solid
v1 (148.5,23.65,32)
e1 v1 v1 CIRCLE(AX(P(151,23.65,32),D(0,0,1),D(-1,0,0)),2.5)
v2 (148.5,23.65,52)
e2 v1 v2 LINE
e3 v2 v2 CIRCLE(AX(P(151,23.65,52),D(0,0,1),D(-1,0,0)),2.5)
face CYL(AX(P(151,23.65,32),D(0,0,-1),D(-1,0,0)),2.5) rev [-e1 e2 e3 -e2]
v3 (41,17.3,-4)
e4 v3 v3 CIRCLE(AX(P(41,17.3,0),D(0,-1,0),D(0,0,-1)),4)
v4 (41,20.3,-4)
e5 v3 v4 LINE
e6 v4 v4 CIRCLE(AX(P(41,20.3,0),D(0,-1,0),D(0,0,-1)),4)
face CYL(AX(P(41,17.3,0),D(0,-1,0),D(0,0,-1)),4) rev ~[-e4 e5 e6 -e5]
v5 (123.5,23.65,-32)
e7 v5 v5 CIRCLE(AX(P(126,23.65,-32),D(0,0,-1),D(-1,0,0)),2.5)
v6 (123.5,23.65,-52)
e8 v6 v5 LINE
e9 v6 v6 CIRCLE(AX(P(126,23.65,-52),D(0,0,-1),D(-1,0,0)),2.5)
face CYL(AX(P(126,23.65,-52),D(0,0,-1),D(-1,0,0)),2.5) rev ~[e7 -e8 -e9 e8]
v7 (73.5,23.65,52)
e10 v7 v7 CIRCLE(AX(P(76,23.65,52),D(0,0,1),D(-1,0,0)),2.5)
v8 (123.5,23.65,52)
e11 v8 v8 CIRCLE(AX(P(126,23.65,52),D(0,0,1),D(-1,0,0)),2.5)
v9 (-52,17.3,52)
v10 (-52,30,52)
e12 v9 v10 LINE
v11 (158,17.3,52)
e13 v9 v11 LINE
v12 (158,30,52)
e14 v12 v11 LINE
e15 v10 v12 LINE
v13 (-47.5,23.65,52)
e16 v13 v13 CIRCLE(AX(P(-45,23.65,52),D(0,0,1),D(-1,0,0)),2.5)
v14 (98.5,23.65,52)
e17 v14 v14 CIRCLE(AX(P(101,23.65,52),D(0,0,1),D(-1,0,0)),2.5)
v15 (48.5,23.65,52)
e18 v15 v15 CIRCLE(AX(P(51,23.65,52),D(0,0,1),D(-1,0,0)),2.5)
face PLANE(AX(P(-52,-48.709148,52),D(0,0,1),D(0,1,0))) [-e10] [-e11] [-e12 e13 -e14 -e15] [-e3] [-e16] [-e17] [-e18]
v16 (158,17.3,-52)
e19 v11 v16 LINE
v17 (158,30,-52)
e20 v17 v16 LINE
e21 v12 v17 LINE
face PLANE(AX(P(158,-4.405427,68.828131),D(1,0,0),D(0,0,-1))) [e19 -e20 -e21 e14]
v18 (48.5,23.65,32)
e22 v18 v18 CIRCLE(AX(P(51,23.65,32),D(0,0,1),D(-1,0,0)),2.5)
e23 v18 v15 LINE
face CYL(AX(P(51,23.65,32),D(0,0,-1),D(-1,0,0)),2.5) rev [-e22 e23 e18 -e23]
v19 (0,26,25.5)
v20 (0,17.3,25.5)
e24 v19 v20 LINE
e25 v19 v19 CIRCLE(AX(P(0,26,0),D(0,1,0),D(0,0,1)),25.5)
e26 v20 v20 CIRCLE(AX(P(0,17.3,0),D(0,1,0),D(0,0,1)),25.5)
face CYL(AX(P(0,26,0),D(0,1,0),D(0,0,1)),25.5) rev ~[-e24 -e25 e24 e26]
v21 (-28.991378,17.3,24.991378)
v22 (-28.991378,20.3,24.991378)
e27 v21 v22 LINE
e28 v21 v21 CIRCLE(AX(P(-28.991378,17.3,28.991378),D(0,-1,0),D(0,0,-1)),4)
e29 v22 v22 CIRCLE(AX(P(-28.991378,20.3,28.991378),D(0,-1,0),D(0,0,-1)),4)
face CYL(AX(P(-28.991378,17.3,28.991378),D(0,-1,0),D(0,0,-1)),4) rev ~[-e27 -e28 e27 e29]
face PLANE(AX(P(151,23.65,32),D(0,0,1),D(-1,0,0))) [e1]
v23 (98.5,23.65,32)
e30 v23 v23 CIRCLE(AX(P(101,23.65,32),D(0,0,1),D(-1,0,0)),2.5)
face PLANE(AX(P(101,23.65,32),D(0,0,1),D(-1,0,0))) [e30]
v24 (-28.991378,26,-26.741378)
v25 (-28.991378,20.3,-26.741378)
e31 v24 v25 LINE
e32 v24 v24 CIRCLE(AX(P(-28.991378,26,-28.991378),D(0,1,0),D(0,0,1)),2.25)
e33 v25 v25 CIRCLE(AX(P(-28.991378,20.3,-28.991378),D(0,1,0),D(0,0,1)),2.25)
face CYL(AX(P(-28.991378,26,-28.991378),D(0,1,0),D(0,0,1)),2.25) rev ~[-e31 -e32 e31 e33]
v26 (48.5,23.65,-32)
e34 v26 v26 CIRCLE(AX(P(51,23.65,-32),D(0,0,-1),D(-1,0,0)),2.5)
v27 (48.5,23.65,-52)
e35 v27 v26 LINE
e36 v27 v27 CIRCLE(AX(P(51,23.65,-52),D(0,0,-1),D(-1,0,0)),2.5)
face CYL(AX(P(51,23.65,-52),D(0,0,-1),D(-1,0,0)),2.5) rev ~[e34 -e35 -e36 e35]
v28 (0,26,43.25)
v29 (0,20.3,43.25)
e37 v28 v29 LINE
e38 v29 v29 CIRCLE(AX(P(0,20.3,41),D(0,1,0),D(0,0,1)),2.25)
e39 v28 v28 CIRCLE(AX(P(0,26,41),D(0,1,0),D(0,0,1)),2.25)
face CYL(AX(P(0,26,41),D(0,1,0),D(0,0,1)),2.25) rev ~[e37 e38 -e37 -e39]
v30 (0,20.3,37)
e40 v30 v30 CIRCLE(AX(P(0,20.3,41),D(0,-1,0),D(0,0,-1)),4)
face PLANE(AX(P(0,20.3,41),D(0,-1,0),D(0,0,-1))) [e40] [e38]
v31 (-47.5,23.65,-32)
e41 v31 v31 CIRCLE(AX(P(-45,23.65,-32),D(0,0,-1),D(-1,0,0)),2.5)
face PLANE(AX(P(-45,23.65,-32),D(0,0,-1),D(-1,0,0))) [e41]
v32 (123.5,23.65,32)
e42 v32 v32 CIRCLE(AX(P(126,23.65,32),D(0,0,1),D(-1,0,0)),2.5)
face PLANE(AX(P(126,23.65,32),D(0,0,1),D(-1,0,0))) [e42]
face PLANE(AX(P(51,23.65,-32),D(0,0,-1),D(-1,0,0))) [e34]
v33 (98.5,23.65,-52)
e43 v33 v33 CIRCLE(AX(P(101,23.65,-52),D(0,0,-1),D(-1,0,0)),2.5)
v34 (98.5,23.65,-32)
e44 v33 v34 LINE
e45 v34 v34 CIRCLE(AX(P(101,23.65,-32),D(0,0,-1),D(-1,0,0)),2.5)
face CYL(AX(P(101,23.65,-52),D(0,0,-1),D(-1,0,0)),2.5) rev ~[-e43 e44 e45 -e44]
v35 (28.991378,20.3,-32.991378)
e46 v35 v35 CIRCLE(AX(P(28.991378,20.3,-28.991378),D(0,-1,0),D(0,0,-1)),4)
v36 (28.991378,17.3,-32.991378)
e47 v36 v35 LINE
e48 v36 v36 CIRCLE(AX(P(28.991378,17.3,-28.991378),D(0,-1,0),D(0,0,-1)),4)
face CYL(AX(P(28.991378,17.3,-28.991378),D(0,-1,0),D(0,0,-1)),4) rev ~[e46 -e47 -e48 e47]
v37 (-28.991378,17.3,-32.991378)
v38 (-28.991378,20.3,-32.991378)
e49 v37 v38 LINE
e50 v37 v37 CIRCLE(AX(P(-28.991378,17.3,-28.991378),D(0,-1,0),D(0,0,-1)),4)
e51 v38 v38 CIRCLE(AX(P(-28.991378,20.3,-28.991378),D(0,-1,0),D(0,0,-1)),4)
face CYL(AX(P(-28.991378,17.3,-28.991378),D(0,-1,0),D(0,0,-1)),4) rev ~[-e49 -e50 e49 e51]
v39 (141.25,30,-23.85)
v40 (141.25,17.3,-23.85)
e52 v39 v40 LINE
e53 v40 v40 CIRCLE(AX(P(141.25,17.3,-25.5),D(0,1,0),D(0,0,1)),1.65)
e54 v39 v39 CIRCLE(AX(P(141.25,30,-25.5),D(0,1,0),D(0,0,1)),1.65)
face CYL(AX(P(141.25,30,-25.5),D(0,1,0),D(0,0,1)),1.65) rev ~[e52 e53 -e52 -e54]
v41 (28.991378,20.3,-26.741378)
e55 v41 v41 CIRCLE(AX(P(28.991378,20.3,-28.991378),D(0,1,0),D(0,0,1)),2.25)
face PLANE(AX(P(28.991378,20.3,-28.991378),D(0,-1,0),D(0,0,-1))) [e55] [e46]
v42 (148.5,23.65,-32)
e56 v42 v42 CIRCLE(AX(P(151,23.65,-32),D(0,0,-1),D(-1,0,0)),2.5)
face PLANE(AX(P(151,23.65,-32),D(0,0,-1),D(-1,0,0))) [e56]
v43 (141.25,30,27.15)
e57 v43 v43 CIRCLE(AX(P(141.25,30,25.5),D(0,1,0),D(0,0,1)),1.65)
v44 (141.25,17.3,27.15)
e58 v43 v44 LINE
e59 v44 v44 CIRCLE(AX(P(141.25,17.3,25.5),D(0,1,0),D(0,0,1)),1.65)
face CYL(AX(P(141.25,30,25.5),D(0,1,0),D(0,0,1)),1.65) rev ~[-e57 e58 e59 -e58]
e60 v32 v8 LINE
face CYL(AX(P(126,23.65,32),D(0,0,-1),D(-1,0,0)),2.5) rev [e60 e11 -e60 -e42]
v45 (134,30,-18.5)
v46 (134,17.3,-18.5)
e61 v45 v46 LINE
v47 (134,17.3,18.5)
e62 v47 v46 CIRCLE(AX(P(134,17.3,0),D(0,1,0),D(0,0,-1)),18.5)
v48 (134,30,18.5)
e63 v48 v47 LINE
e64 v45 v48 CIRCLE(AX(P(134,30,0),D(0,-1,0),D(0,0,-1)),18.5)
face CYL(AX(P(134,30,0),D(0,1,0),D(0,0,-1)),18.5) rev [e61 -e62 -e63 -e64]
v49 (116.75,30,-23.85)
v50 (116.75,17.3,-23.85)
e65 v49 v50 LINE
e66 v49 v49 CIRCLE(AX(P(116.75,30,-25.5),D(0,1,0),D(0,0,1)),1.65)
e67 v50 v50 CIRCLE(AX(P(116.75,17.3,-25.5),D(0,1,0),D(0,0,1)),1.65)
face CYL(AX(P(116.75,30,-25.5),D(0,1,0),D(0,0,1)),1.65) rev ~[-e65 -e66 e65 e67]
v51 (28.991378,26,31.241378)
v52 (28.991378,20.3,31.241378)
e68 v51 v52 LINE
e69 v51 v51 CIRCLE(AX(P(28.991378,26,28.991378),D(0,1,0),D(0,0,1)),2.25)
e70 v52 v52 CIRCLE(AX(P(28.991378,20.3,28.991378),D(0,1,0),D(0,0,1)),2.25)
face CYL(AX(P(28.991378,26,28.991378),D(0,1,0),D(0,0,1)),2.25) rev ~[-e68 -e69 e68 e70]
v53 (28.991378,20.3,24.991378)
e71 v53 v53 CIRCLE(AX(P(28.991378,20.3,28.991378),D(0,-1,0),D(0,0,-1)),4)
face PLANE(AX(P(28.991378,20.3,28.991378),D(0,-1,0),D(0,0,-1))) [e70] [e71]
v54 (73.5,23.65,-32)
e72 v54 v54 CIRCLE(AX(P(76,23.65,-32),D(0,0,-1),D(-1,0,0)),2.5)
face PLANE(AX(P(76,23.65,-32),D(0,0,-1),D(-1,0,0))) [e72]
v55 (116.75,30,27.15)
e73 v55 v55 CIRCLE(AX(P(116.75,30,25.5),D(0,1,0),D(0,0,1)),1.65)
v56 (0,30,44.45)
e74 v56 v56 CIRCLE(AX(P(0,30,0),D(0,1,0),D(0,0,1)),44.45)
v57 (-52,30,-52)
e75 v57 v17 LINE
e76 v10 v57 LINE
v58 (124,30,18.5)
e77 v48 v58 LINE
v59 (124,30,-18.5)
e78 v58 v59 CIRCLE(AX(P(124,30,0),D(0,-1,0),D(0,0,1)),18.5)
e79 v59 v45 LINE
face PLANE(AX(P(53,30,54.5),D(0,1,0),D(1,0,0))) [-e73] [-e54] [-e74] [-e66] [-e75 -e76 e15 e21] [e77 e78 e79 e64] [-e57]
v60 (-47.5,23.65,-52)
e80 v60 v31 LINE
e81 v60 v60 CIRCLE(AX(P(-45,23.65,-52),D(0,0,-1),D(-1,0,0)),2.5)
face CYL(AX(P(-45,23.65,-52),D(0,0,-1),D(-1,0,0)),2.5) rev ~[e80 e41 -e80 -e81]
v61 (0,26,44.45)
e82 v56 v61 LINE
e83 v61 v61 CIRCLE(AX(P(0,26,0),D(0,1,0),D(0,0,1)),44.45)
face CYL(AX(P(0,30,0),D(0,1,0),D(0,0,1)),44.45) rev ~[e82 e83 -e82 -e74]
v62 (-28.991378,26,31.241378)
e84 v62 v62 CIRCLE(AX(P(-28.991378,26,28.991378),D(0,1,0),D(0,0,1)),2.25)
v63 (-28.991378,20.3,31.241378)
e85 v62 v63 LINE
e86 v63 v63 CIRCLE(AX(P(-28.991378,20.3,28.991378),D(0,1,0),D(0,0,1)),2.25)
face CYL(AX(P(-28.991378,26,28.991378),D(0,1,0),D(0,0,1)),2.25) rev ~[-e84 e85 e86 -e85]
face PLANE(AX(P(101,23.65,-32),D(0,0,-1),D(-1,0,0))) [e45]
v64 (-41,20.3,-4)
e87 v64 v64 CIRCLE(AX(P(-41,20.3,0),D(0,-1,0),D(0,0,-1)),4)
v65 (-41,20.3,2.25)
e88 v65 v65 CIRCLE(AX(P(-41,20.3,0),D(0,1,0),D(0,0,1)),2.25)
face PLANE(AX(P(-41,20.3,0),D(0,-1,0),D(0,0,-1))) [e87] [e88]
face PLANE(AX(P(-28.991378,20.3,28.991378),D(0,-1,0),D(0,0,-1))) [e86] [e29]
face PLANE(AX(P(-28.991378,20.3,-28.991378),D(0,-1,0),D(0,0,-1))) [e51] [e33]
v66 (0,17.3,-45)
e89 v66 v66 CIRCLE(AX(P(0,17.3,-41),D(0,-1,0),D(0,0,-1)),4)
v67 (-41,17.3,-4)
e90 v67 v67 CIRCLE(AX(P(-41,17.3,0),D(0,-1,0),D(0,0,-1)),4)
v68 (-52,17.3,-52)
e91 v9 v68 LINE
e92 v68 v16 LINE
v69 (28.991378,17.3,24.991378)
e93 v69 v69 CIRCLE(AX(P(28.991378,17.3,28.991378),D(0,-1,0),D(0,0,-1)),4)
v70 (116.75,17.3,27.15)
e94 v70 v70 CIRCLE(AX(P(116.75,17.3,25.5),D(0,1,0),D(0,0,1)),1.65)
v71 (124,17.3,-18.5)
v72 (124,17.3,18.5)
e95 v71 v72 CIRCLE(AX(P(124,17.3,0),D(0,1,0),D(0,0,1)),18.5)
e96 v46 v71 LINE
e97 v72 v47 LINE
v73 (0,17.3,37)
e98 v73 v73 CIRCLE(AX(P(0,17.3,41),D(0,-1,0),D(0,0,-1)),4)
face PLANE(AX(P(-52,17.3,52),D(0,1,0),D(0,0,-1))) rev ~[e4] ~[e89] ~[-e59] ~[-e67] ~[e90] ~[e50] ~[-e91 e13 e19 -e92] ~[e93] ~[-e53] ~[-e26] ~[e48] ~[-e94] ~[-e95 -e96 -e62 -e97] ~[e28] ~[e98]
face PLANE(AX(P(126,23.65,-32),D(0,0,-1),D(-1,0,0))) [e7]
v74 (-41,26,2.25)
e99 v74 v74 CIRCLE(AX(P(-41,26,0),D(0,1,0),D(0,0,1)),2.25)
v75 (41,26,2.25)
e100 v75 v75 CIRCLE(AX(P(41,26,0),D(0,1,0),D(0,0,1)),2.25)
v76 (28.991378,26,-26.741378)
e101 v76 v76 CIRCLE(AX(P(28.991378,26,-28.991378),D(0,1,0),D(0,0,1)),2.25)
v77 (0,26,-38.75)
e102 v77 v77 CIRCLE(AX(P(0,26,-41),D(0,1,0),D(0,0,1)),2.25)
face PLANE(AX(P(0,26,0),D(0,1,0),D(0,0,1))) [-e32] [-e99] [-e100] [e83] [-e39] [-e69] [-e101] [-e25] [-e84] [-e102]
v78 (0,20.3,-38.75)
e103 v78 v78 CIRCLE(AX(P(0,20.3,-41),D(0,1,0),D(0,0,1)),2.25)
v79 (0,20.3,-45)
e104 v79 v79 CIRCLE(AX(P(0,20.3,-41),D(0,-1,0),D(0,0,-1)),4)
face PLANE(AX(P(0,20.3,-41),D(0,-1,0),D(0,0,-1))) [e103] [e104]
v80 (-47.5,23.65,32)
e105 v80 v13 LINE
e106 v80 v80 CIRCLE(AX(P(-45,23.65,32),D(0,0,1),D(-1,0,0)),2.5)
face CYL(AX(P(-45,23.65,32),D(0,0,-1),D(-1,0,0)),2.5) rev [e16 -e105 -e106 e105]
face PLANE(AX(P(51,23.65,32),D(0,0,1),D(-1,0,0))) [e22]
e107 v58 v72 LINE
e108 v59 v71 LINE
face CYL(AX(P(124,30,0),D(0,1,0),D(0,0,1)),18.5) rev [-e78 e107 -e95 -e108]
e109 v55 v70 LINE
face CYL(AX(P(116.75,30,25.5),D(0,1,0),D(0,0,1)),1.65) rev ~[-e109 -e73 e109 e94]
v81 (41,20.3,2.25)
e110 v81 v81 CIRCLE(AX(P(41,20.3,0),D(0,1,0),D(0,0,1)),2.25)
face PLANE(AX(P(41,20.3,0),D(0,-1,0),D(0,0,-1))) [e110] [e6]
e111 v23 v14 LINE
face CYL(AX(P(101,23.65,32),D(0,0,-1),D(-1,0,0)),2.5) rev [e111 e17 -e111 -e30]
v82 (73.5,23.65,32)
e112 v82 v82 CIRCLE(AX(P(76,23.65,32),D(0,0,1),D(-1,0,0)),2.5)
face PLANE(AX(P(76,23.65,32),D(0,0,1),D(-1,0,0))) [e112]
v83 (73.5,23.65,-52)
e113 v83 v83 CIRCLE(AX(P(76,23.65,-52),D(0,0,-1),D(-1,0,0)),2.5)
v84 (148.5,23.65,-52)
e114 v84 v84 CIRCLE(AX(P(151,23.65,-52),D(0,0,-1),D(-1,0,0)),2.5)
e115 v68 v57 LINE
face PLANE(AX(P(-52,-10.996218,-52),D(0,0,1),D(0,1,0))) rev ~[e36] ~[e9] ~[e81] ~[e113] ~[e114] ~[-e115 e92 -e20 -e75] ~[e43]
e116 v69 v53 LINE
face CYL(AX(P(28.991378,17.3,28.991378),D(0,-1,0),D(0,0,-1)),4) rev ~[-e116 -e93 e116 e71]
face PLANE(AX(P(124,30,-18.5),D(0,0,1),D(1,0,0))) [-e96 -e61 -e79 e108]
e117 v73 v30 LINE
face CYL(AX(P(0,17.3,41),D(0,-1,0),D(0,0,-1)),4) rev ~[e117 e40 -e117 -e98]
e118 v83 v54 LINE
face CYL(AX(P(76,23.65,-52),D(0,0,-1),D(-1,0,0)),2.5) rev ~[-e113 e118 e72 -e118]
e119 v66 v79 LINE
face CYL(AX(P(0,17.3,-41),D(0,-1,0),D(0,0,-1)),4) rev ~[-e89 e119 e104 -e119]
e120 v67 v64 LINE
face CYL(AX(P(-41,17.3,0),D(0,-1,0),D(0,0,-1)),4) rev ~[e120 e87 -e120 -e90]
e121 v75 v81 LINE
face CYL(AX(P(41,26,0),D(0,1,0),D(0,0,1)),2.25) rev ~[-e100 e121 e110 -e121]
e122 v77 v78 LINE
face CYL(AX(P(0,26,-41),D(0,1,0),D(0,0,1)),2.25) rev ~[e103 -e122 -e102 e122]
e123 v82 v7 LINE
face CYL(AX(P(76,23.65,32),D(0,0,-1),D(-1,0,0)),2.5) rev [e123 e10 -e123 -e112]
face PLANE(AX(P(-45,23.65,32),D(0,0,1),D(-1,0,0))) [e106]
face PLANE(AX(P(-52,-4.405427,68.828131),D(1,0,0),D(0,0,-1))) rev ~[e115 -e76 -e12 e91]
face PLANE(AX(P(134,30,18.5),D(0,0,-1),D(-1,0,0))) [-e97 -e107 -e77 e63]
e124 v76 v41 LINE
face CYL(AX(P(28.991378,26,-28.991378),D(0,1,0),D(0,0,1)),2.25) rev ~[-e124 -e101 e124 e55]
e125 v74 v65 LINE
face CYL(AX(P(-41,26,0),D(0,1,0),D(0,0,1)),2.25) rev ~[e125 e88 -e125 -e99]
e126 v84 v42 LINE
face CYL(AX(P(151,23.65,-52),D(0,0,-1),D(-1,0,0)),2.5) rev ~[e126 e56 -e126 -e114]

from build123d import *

# Parameters (mm, degrees)
EXTRUDE_1_DEPTH      = 30
SKETCH_2_R           = 44.45
CUT_EXTRUDE_1_DEPTH  = 4
SKETCH_3_R           = 25.5
SKETCH_3_R_2         = 2.25
CUT_EXTRUDE_2_DEPTH  = 188.619295383
CUT_EXTRUDE_3_DEPTH  = 189.215302247
SKETCH_5_R           = 1.65
CUT_EXTRUDE_4_DEPTH  = 189.215302247
EXTRUDE_START        = -30
EXTRUDE_2_DEPTH      = 30
CUT_EXTRUDE_5_DEPTH  = 198.040604952
CUT_EXTRUDE_7_DEPTH  = 233.432785983
CUT_EXTRUDE_8_DEPTH  = 233.432785983
CUT_EXTRUDE_9_DEPTH  = 233.432785983
FILLET_1_R           = 5
CUT_EXTRUDE_10_DEPTH = 233.432785983
EXTRUDE_START_2      = -5
EXTRUDE_3_DEPTH      = 5
EXTRUDE_4_DEPTH      = 5
SKETCH_14_R          = 4.25
CUT_EXTRUDE_11_DEPTH = 189.364728478
SKETCH_16_W          = 43
SKETCH_16_H          = 30
CUT_EXTRUDE_12_DEPTH = 233.432785983
EXTRUDE_7_REACH      = 188.592
SKETCH_18_W          = 210
SKETCH_18_H          = 5
EXTRUDE_8_DEPTH      = 210
EXTRUDE_9_DEPTH      = 5
EXTRUDE_10_DEPTH     = 5
SKETCH_22_R          = 4.25
CUT_EXTRUDE_13_DEPTH = 187.984035343
FILLET_2_R           = 5
SKETCH_23_W          = 54.138987121
SKETCH_23_H          = 93.693059957
CUT_EXTRUDE_16_DEPTH = 234.418610938
SKETCH_24_R          = 2.5
CUT_EXTRUDE_17_DEPTH = 20
CUT_EXTRUDE_START    = -20
SKETCH_25_R          = 2.5
CUT_EXTRUDE_18_DEPTH = 20
SKETCH_26_R          = 4
CUT_EXTRUDE_19_DEPTH = 3


with BuildPart() as part:
    # 草图1 → 凸台-拉伸1 (new body)
    with BuildSketch(Plane(origin=(0, 0, 0), x_dir=(1, 0, 0), z_dir=(0, 1, 0))):
        with BuildLine():
            Line((170, 31.93), (170, -31.93))
            ThreePointArc((170, -31.93), (167.781993847, -38.210172909), (162.111885646, -41.704453387))
            Line((162.111885646, -41.704453387), (15.839142344, -73.308400404))
            ThreePointArc((15.839142344, -73.308400404), (-75, 0), (15.839142344, 73.308400404))
            Line((15.839142344, 73.308400404), (162.111885646, 41.704453387))
            ThreePointArc((162.111885646, 41.704453387), (167.781993847, 38.210172909), (170, 31.93))
        make_face()
    extrude(amount=EXTRUDE_1_DEPTH)

    # 草图2 → 切除-拉伸1 (cut)
    with BuildSketch(Plane(origin=(0, 30, 0), x_dir=(1, 0, 0), z_dir=(0, 1, 0))):
        with Locations(Location((0, 0, 0), (0, 0, 270))):
            Circle(SKETCH_2_R)
    extrude(amount=-CUT_EXTRUDE_1_DEPTH, mode=Mode.SUBTRACT)

    # 草图3 → 切除-拉伸2 (cut, through all)
    with BuildSketch(Plane(origin=(0, 26, 0), x_dir=(1, 0, 0), z_dir=(0, 1, 0))):
        with Locations(Location((0, 0, 0), (0, 0, 270))):
            Circle(SKETCH_3_R)
        with Locations(Location((0, 41, 0), (0, 0, 270))):
            Circle(SKETCH_3_R_2)
        with Locations(Location((28.991378029, 28.991378029, 0), (0, 0, 270))):
            Circle(SKETCH_3_R_2)
        with Locations(Location((41, 0, 0), (0, 0, 270))):
            Circle(SKETCH_3_R_2)
        with Locations(Location((28.991378029, -28.991378029, 0), (0, 0, 270))):
            Circle(SKETCH_3_R_2)
        with Locations(Location((0, -41, 0), (0, 0, 270))):
            Circle(SKETCH_3_R_2)
        with Locations(Location((-28.991378029, -28.991378029, 0), (0, 0, 270))):
            Circle(SKETCH_3_R_2)
        with Locations(Location((-41, 0, 0), (0, 0, 270))):
            Circle(SKETCH_3_R_2)
        with Locations(Location((-28.991378029, 28.991378029, 0), (0, 0, 270))):
            Circle(SKETCH_3_R_2)
    extrude(amount=-CUT_EXTRUDE_2_DEPTH, mode=Mode.SUBTRACT)

    # 草图4 → 切除-拉伸3 (cut, through all)
    with BuildSketch(Plane(origin=(0, 30, 0), x_dir=(1, 0, 0), z_dir=(0, 1, 0))):
        with BuildLine():
            Line((124, 18.5), (134, 18.5))
            ThreePointArc((134, 18.5), (152.5, 0), (134, -18.5))
            Line((134, -18.5), (124, -18.5))
            ThreePointArc((124, -18.5), (105.5, 0), (124, 18.5))
        make_face()
    extrude(amount=-CUT_EXTRUDE_3_DEPTH, mode=Mode.SUBTRACT)

    # 草图5 → 切除-拉伸4 (cut, through all)
    with BuildSketch(Plane(origin=(0, 30, 0), x_dir=(1, 0, 0), z_dir=(0, 1, 0))):
        with Locations(Location((116.75, 25.5, 0), (0, 0, 270))):
            Circle(SKETCH_5_R)
        with Locations(Location((141.25, 25.5, 0), (0, 0, 270))):
            Circle(SKETCH_5_R)
        with Locations(Location((141.25, -25.5, 0), (0, 0, 270))):
            Circle(SKETCH_5_R)
        with Locations(Location((116.75, -25.5, 0), (0, 0, 270))):
            Circle(SKETCH_5_R)
    extrude(amount=-CUT_EXTRUDE_4_DEPTH, mode=Mode.SUBTRACT)

    # 草图6 → 凸台-拉伸2 (add)
    with BuildSketch(Plane(origin=(0, 30, 0), x_dir=(1, 0, 0), z_dir=(0, 1, 0)).offset(EXTRUDE_START)):
        with BuildLine():
            Line((158, 95), (-52, 95))
            Line((-52, 95), (-52, 54.046276467))
            ThreePointArc((-52, 54.046276467), (-20.48558667, 72.148047366), (15.839142344, 73.308400404))
            Line((15.839142344, 73.308400404), (158, 42.592874655))
            Line((158, 42.592874655), (158, 95))
        make_face()
        with BuildLine():
            ThreePointArc((15.839142344, -73.308400404), (-20.48558667, -72.148047366), (-52, -54.046276467))
            Line((-52, -54.046276467), (-52, -95))
            Line((-52, -95), (158, -95))
            Line((158, -95), (158, -42.592874655))
            Line((158, -42.592874655), (15.839142344, -73.308400404))
        make_face()
    extrude(amount=EXTRUDE_2_DEPTH)

    # 草图7 → 切除-拉伸5 (cut, through all)
    with BuildSketch(Plane(origin=(0, 30, 0), x_dir=(1, 0, 0), z_dir=(0, 1, 0))):
        with BuildLine():
            Line((-52, 54.046276467), (-52, -54.046276467))
            ThreePointArc((-52, -54.046276467), (-75, 0), (-52, 54.046276467))
        make_face()
        with BuildLine():
            Line((158, 42.592874655), (158, -42.592874655))
            Line((158, -42.592874655), (162.111885646, -41.704453387))
            ThreePointArc((162.111885646, -41.704453387), (167.781993847, -38.210172909), (170, -31.93))
            Line((170, -31.93), (170, 31.93))
            ThreePointArc((170, 31.93), (167.781993847, 38.210172909), (162.111885646, 41.704453387))
            Line((162.111885646, 41.704453387), (158, 42.592874655))
        make_face()
    extrude(amount=-CUT_EXTRUDE_5_DEPTH, mode=Mode.SUBTRACT)

    # 草图9 → 切除-拉伸7 (cut, through all)
    with BuildSketch(Plane.ZY.offset(52)):
        Polygon((-95, 20), (-60, 10.621778265), (-60, 30), (-95, 30), align=None)
    extrude(amount=-CUT_EXTRUDE_7_DEPTH, mode=Mode.SUBTRACT)

    # 草图10 → 切除-拉伸8 (cut, through all)
    with BuildSketch(Plane.ZY.offset(52)):
        Polygon((-95, 12.753066737), (-52, 1.231251463), (-52, 0), (-95, 0), align=None)
    extrude(amount=-CUT_EXTRUDE_8_DEPTH, mode=Mode.SUBTRACT)

    # 草图8 → 切除-拉伸9 (cut, through all)
    with BuildSketch(Plane.ZY.offset(52)):
        Polygon((0, 0), (52, 0), (52, 17.3), (-52, 17.3), (-52, 0), align=None)
    extrude(amount=-CUT_EXTRUDE_9_DEPTH, mode=Mode.SUBTRACT)

    # 圆角1
    fillet_1_edges = [part.edges().sort_by_distance(p)[0] for p in [
        (53, 10.621778265, -60),
    ]]
    fillet(fillet_1_edges, radius=FILLET_1_R)

    # 草图11 → 切除-拉伸10 (cut, through all)
    with BuildSketch(Plane.ZY.offset(52)):
        Polygon((-95, 12.753066737), (-93.188266684, 19.514547521), (-95, 20), align=None)
    extrude(amount=-CUT_EXTRUDE_10_DEPTH, mode=Mode.SUBTRACT)

    # 草图12 → 凸台-拉伸3 (add)
    with BuildSketch(Plane.ZY.offset(52).offset(EXTRUDE_START_2)):
        with BuildLine():
            Line((-93.188266684, 19.514547521), (-60, 30))
            Line((-60, 30), (-60, 17.137905129))
            ThreePointArc((-60, 17.137905129), (-61.956192855, 13.171138428), (-66.294095226, 12.308275998))
            Line((-66.294095226, 12.308275998), (-93.188266684, 19.514547521))
        make_face()
    extrude(amount=EXTRUDE_3_DEPTH)

    # 草图13 → 凸台-拉伸4 (add)
    with BuildSketch(Plane(origin=(158, 0, 0), x_dir=(0, 0, -1), z_dir=(1, 0, 0))):
        with BuildLine():
            Line((66.294095226, 12.308275998), (93.188266684, 19.514547521))
            Line((93.188266684, 19.514547521), (60, 30))
            Line((60, 30), (60, 17.137905129))
            ThreePointArc((60, 17.137905129), (61.956192855, 13.171138428), (66.294095226, 12.308275998))
        make_face()
    extrude(amount=-EXTRUDE_4_DEPTH)

    # 草图14 → 切除-拉伸11 (cut, through all)
    with BuildSketch(Plane(origin=(0, -5.089745962, -1.36379332), x_dir=(1, 0, 0), z_dir=(0, 0.9659258262890681, 0.2588190451025214))):
        with Locations(Location((-27, 82.063690052, 0), (0, 0, 270))):
            Circle(SKETCH_14_R)
        with Locations(Location((23, 82.063690052, 0), (0, 0, 270))):
            Circle(SKETCH_14_R)
        with Locations(Location((83, 82.063690052, 0), (0, 0, 270))):
            Circle(SKETCH_14_R)
        with Locations(Location((133, 82.063690052, 0), (0, 0, 270))):
            Circle(SKETCH_14_R)
    extrude(amount=-CUT_EXTRUDE_11_DEPTH, mode=Mode.SUBTRACT)

    # 草图16 → 切除-拉伸12 (cut, through all)
    with BuildSketch(Plane.ZY.offset(52)):
        with Locations((73.5, 15)):
            Rectangle(SKETCH_16_W, SKETCH_16_H)
    extrude(amount=-CUT_EXTRUDE_12_DEPTH, mode=Mode.SUBTRACT)

    # 凸台-拉伸7: up to this plane
    extrude_7_end = Plane(origin=(0, -11.851226746, -3.175526636), z_dir=(0, -0.9659258262890681, -0.25881904510252146))
    # 草图18 → 凸台-拉伸7 (add, up to the surface)
    with BuildSketch(Plane(origin=(0, 30, 0), x_dir=(1, 0, 0), z_dir=(0, 1, 0)), mode=Mode.PRIVATE) as extrude_7_sk1:
        with Locations((53, -54.5)):
            Rectangle(SKETCH_18_W, SKETCH_18_H)
    extrude_7_tool1 = split(extrude(extrude_7_sk1.sketch, amount=-EXTRUDE_7_REACH, mode=Mode.PRIVATE), bisect_by=extrude_7_end, keep=Keep.BOTH, mode=Mode.PRIVATE)
    add(extrude_7_tool1.solids().sort_by_distance((53, 30, 54.5))[0])

    # 草图19 → 凸台-拉伸8 (add)
    with BuildSketch(Plane.ZY.offset(52)):
        Polygon((57, -27.975210512), (90.188266684, -36.867979769), (92, -30.106498985), (57, -20.72827725), align=None)
    extrude(amount=-EXTRUDE_8_DEPTH)

    # 草图20 → 凸台-拉伸9 (add)
    with BuildSketch(Plane.ZY.offset(52)):
        Polygon((92, -30.106498985), (57, -20.72827725), (57, 30), align=None)
    extrude(amount=-EXTRUDE_9_DEPTH)

    # 草图21 → 凸台-拉伸10 (add)
    with BuildSketch(Plane(origin=(158, 0, 0), x_dir=(0, 0, -1), z_dir=(1, 0, 0))):
        Polygon((-57, 30), (-92, -30.106498985), (-57, -20.72827725), align=None)
    extrude(amount=-EXTRUDE_10_DEPTH)

    # 草图22 → 切除-拉伸13 (cut, through all)
    with BuildSketch(Plane(origin=(0, -5.089745962, -1.36379332), x_dir=(1, 0, 0), z_dir=(0, 0.9659258262890686, 0.25881904510251946))):
        with Locations(Location((-27, -77.936309948, 0), (0, 0, 270))):
            Circle(SKETCH_22_R)
        with Locations(Location((23, -69.936309948, 0), (0, 0, 270))):
            Circle(SKETCH_22_R)
        with Locations(Location((83, -69.936309948, 0), (0, 0, 270))):
            Circle(SKETCH_22_R)
        with Locations(Location((133, -77.936309948, 0), (0, 0, 270))):
            Circle(SKETCH_22_R)
    extrude(amount=-CUT_EXTRUDE_13_DEPTH, mode=Mode.SUBTRACT)

    # 圆角2
    fillet_2_edges = [part.edges().sort_by_distance(p)[0] for p in [
        (53, -20.72827725, 57),
    ]]
    fillet(fillet_2_edges, radius=FILLET_2_R)

    # 草图23 → 切除-拉伸16 (cut, through all)
    with BuildSketch(Plane.ZY.offset(52)):
        Polygon((-52, 17.3), (-52, 43.805383113), (-100.3000192, 43.805383113), (-100.3000192, -10.996217994), (-52, -10.996217994), align=None)
        with Locations((79.069493561, -1.86261781)):
            Rectangle(SKETCH_23_W, SKETCH_23_H)
    extrude(amount=-CUT_EXTRUDE_16_DEPTH, mode=Mode.SUBTRACT)

    # 草图24 → 切除-拉伸17 (cut)
    with BuildSketch(Plane(origin=(0, 0, -52), x_dir=(-1, 0, 0), z_dir=(0, 0, -1))):
        with Locations((-126, 23.65)):
            Circle(SKETCH_24_R)
        with Locations((-101, 23.65)):
            Circle(SKETCH_24_R)
        with Locations((-151, 23.65)):
            Circle(SKETCH_24_R)
        with Locations((45, 23.65)):
            Circle(SKETCH_24_R)
        with Locations((-76, 23.65)):
            Circle(SKETCH_24_R)
        with Locations((-51, 23.65)):
            Circle(SKETCH_24_R)
    extrude(amount=-CUT_EXTRUDE_17_DEPTH, mode=Mode.SUBTRACT)

    # 草图25 → 切除-拉伸18 (cut)
    with BuildSketch(Plane.XY.offset(52).offset(CUT_EXTRUDE_START)):
        with Locations(Location((151, 23.65, 0), (0, 0, 180))):
            Circle(SKETCH_25_R)
        with Locations(Location((126, 23.65, 0), (0, 0, 180))):
            Circle(SKETCH_25_R)
        with Locations(Location((101, 23.65, 0), (0, 0, 180))):
            Circle(SKETCH_25_R)
        with Locations(Location((76, 23.65, 0), (0, 0, 180))):
            Circle(SKETCH_25_R)
        with Locations(Location((51, 23.65, 0), (0, 0, 180))):
            Circle(SKETCH_25_R)
        with Locations(Location((-45, 23.65, 0), (0, 0, 180))):
            Circle(SKETCH_25_R)
    extrude(amount=CUT_EXTRUDE_18_DEPTH, mode=Mode.SUBTRACT)

    # 草图26 → 切除-拉伸19 (cut)
    with BuildSketch(Plane.XZ.offset(-17.3)):
        with Locations(Location((0, 41, 0), (0, 0, 270))):
            Circle(SKETCH_26_R)
        with Locations(Location((28.991378029, 28.991378029, 0), (0, 0, 270))):
            Circle(SKETCH_26_R)
        with Locations(Location((41, 0, 0), (0, 0, 270))):
            Circle(SKETCH_26_R)
        with Locations(Location((28.991378029, -28.991378029, 0), (0, 0, 270))):
            Circle(SKETCH_26_R)
        with Locations(Location((0, -41, 0), (0, 0, 270))):
            Circle(SKETCH_26_R)
        with Locations(Location((-28.991378029, -28.991378029, 0), (0, 0, 270))):
            Circle(SKETCH_26_R)
        with Locations(Location((-41, 0, 0), (0, 0, 270))):
            Circle(SKETCH_26_R)
        with Locations(Location((-28.991378029, 28.991378029, 0), (0, 0, 270))):
            Circle(SKETCH_26_R)
    extrude(amount=-CUT_EXTRUDE_19_DEPTH, mode=Mode.SUBTRACT)


solid = part.part
